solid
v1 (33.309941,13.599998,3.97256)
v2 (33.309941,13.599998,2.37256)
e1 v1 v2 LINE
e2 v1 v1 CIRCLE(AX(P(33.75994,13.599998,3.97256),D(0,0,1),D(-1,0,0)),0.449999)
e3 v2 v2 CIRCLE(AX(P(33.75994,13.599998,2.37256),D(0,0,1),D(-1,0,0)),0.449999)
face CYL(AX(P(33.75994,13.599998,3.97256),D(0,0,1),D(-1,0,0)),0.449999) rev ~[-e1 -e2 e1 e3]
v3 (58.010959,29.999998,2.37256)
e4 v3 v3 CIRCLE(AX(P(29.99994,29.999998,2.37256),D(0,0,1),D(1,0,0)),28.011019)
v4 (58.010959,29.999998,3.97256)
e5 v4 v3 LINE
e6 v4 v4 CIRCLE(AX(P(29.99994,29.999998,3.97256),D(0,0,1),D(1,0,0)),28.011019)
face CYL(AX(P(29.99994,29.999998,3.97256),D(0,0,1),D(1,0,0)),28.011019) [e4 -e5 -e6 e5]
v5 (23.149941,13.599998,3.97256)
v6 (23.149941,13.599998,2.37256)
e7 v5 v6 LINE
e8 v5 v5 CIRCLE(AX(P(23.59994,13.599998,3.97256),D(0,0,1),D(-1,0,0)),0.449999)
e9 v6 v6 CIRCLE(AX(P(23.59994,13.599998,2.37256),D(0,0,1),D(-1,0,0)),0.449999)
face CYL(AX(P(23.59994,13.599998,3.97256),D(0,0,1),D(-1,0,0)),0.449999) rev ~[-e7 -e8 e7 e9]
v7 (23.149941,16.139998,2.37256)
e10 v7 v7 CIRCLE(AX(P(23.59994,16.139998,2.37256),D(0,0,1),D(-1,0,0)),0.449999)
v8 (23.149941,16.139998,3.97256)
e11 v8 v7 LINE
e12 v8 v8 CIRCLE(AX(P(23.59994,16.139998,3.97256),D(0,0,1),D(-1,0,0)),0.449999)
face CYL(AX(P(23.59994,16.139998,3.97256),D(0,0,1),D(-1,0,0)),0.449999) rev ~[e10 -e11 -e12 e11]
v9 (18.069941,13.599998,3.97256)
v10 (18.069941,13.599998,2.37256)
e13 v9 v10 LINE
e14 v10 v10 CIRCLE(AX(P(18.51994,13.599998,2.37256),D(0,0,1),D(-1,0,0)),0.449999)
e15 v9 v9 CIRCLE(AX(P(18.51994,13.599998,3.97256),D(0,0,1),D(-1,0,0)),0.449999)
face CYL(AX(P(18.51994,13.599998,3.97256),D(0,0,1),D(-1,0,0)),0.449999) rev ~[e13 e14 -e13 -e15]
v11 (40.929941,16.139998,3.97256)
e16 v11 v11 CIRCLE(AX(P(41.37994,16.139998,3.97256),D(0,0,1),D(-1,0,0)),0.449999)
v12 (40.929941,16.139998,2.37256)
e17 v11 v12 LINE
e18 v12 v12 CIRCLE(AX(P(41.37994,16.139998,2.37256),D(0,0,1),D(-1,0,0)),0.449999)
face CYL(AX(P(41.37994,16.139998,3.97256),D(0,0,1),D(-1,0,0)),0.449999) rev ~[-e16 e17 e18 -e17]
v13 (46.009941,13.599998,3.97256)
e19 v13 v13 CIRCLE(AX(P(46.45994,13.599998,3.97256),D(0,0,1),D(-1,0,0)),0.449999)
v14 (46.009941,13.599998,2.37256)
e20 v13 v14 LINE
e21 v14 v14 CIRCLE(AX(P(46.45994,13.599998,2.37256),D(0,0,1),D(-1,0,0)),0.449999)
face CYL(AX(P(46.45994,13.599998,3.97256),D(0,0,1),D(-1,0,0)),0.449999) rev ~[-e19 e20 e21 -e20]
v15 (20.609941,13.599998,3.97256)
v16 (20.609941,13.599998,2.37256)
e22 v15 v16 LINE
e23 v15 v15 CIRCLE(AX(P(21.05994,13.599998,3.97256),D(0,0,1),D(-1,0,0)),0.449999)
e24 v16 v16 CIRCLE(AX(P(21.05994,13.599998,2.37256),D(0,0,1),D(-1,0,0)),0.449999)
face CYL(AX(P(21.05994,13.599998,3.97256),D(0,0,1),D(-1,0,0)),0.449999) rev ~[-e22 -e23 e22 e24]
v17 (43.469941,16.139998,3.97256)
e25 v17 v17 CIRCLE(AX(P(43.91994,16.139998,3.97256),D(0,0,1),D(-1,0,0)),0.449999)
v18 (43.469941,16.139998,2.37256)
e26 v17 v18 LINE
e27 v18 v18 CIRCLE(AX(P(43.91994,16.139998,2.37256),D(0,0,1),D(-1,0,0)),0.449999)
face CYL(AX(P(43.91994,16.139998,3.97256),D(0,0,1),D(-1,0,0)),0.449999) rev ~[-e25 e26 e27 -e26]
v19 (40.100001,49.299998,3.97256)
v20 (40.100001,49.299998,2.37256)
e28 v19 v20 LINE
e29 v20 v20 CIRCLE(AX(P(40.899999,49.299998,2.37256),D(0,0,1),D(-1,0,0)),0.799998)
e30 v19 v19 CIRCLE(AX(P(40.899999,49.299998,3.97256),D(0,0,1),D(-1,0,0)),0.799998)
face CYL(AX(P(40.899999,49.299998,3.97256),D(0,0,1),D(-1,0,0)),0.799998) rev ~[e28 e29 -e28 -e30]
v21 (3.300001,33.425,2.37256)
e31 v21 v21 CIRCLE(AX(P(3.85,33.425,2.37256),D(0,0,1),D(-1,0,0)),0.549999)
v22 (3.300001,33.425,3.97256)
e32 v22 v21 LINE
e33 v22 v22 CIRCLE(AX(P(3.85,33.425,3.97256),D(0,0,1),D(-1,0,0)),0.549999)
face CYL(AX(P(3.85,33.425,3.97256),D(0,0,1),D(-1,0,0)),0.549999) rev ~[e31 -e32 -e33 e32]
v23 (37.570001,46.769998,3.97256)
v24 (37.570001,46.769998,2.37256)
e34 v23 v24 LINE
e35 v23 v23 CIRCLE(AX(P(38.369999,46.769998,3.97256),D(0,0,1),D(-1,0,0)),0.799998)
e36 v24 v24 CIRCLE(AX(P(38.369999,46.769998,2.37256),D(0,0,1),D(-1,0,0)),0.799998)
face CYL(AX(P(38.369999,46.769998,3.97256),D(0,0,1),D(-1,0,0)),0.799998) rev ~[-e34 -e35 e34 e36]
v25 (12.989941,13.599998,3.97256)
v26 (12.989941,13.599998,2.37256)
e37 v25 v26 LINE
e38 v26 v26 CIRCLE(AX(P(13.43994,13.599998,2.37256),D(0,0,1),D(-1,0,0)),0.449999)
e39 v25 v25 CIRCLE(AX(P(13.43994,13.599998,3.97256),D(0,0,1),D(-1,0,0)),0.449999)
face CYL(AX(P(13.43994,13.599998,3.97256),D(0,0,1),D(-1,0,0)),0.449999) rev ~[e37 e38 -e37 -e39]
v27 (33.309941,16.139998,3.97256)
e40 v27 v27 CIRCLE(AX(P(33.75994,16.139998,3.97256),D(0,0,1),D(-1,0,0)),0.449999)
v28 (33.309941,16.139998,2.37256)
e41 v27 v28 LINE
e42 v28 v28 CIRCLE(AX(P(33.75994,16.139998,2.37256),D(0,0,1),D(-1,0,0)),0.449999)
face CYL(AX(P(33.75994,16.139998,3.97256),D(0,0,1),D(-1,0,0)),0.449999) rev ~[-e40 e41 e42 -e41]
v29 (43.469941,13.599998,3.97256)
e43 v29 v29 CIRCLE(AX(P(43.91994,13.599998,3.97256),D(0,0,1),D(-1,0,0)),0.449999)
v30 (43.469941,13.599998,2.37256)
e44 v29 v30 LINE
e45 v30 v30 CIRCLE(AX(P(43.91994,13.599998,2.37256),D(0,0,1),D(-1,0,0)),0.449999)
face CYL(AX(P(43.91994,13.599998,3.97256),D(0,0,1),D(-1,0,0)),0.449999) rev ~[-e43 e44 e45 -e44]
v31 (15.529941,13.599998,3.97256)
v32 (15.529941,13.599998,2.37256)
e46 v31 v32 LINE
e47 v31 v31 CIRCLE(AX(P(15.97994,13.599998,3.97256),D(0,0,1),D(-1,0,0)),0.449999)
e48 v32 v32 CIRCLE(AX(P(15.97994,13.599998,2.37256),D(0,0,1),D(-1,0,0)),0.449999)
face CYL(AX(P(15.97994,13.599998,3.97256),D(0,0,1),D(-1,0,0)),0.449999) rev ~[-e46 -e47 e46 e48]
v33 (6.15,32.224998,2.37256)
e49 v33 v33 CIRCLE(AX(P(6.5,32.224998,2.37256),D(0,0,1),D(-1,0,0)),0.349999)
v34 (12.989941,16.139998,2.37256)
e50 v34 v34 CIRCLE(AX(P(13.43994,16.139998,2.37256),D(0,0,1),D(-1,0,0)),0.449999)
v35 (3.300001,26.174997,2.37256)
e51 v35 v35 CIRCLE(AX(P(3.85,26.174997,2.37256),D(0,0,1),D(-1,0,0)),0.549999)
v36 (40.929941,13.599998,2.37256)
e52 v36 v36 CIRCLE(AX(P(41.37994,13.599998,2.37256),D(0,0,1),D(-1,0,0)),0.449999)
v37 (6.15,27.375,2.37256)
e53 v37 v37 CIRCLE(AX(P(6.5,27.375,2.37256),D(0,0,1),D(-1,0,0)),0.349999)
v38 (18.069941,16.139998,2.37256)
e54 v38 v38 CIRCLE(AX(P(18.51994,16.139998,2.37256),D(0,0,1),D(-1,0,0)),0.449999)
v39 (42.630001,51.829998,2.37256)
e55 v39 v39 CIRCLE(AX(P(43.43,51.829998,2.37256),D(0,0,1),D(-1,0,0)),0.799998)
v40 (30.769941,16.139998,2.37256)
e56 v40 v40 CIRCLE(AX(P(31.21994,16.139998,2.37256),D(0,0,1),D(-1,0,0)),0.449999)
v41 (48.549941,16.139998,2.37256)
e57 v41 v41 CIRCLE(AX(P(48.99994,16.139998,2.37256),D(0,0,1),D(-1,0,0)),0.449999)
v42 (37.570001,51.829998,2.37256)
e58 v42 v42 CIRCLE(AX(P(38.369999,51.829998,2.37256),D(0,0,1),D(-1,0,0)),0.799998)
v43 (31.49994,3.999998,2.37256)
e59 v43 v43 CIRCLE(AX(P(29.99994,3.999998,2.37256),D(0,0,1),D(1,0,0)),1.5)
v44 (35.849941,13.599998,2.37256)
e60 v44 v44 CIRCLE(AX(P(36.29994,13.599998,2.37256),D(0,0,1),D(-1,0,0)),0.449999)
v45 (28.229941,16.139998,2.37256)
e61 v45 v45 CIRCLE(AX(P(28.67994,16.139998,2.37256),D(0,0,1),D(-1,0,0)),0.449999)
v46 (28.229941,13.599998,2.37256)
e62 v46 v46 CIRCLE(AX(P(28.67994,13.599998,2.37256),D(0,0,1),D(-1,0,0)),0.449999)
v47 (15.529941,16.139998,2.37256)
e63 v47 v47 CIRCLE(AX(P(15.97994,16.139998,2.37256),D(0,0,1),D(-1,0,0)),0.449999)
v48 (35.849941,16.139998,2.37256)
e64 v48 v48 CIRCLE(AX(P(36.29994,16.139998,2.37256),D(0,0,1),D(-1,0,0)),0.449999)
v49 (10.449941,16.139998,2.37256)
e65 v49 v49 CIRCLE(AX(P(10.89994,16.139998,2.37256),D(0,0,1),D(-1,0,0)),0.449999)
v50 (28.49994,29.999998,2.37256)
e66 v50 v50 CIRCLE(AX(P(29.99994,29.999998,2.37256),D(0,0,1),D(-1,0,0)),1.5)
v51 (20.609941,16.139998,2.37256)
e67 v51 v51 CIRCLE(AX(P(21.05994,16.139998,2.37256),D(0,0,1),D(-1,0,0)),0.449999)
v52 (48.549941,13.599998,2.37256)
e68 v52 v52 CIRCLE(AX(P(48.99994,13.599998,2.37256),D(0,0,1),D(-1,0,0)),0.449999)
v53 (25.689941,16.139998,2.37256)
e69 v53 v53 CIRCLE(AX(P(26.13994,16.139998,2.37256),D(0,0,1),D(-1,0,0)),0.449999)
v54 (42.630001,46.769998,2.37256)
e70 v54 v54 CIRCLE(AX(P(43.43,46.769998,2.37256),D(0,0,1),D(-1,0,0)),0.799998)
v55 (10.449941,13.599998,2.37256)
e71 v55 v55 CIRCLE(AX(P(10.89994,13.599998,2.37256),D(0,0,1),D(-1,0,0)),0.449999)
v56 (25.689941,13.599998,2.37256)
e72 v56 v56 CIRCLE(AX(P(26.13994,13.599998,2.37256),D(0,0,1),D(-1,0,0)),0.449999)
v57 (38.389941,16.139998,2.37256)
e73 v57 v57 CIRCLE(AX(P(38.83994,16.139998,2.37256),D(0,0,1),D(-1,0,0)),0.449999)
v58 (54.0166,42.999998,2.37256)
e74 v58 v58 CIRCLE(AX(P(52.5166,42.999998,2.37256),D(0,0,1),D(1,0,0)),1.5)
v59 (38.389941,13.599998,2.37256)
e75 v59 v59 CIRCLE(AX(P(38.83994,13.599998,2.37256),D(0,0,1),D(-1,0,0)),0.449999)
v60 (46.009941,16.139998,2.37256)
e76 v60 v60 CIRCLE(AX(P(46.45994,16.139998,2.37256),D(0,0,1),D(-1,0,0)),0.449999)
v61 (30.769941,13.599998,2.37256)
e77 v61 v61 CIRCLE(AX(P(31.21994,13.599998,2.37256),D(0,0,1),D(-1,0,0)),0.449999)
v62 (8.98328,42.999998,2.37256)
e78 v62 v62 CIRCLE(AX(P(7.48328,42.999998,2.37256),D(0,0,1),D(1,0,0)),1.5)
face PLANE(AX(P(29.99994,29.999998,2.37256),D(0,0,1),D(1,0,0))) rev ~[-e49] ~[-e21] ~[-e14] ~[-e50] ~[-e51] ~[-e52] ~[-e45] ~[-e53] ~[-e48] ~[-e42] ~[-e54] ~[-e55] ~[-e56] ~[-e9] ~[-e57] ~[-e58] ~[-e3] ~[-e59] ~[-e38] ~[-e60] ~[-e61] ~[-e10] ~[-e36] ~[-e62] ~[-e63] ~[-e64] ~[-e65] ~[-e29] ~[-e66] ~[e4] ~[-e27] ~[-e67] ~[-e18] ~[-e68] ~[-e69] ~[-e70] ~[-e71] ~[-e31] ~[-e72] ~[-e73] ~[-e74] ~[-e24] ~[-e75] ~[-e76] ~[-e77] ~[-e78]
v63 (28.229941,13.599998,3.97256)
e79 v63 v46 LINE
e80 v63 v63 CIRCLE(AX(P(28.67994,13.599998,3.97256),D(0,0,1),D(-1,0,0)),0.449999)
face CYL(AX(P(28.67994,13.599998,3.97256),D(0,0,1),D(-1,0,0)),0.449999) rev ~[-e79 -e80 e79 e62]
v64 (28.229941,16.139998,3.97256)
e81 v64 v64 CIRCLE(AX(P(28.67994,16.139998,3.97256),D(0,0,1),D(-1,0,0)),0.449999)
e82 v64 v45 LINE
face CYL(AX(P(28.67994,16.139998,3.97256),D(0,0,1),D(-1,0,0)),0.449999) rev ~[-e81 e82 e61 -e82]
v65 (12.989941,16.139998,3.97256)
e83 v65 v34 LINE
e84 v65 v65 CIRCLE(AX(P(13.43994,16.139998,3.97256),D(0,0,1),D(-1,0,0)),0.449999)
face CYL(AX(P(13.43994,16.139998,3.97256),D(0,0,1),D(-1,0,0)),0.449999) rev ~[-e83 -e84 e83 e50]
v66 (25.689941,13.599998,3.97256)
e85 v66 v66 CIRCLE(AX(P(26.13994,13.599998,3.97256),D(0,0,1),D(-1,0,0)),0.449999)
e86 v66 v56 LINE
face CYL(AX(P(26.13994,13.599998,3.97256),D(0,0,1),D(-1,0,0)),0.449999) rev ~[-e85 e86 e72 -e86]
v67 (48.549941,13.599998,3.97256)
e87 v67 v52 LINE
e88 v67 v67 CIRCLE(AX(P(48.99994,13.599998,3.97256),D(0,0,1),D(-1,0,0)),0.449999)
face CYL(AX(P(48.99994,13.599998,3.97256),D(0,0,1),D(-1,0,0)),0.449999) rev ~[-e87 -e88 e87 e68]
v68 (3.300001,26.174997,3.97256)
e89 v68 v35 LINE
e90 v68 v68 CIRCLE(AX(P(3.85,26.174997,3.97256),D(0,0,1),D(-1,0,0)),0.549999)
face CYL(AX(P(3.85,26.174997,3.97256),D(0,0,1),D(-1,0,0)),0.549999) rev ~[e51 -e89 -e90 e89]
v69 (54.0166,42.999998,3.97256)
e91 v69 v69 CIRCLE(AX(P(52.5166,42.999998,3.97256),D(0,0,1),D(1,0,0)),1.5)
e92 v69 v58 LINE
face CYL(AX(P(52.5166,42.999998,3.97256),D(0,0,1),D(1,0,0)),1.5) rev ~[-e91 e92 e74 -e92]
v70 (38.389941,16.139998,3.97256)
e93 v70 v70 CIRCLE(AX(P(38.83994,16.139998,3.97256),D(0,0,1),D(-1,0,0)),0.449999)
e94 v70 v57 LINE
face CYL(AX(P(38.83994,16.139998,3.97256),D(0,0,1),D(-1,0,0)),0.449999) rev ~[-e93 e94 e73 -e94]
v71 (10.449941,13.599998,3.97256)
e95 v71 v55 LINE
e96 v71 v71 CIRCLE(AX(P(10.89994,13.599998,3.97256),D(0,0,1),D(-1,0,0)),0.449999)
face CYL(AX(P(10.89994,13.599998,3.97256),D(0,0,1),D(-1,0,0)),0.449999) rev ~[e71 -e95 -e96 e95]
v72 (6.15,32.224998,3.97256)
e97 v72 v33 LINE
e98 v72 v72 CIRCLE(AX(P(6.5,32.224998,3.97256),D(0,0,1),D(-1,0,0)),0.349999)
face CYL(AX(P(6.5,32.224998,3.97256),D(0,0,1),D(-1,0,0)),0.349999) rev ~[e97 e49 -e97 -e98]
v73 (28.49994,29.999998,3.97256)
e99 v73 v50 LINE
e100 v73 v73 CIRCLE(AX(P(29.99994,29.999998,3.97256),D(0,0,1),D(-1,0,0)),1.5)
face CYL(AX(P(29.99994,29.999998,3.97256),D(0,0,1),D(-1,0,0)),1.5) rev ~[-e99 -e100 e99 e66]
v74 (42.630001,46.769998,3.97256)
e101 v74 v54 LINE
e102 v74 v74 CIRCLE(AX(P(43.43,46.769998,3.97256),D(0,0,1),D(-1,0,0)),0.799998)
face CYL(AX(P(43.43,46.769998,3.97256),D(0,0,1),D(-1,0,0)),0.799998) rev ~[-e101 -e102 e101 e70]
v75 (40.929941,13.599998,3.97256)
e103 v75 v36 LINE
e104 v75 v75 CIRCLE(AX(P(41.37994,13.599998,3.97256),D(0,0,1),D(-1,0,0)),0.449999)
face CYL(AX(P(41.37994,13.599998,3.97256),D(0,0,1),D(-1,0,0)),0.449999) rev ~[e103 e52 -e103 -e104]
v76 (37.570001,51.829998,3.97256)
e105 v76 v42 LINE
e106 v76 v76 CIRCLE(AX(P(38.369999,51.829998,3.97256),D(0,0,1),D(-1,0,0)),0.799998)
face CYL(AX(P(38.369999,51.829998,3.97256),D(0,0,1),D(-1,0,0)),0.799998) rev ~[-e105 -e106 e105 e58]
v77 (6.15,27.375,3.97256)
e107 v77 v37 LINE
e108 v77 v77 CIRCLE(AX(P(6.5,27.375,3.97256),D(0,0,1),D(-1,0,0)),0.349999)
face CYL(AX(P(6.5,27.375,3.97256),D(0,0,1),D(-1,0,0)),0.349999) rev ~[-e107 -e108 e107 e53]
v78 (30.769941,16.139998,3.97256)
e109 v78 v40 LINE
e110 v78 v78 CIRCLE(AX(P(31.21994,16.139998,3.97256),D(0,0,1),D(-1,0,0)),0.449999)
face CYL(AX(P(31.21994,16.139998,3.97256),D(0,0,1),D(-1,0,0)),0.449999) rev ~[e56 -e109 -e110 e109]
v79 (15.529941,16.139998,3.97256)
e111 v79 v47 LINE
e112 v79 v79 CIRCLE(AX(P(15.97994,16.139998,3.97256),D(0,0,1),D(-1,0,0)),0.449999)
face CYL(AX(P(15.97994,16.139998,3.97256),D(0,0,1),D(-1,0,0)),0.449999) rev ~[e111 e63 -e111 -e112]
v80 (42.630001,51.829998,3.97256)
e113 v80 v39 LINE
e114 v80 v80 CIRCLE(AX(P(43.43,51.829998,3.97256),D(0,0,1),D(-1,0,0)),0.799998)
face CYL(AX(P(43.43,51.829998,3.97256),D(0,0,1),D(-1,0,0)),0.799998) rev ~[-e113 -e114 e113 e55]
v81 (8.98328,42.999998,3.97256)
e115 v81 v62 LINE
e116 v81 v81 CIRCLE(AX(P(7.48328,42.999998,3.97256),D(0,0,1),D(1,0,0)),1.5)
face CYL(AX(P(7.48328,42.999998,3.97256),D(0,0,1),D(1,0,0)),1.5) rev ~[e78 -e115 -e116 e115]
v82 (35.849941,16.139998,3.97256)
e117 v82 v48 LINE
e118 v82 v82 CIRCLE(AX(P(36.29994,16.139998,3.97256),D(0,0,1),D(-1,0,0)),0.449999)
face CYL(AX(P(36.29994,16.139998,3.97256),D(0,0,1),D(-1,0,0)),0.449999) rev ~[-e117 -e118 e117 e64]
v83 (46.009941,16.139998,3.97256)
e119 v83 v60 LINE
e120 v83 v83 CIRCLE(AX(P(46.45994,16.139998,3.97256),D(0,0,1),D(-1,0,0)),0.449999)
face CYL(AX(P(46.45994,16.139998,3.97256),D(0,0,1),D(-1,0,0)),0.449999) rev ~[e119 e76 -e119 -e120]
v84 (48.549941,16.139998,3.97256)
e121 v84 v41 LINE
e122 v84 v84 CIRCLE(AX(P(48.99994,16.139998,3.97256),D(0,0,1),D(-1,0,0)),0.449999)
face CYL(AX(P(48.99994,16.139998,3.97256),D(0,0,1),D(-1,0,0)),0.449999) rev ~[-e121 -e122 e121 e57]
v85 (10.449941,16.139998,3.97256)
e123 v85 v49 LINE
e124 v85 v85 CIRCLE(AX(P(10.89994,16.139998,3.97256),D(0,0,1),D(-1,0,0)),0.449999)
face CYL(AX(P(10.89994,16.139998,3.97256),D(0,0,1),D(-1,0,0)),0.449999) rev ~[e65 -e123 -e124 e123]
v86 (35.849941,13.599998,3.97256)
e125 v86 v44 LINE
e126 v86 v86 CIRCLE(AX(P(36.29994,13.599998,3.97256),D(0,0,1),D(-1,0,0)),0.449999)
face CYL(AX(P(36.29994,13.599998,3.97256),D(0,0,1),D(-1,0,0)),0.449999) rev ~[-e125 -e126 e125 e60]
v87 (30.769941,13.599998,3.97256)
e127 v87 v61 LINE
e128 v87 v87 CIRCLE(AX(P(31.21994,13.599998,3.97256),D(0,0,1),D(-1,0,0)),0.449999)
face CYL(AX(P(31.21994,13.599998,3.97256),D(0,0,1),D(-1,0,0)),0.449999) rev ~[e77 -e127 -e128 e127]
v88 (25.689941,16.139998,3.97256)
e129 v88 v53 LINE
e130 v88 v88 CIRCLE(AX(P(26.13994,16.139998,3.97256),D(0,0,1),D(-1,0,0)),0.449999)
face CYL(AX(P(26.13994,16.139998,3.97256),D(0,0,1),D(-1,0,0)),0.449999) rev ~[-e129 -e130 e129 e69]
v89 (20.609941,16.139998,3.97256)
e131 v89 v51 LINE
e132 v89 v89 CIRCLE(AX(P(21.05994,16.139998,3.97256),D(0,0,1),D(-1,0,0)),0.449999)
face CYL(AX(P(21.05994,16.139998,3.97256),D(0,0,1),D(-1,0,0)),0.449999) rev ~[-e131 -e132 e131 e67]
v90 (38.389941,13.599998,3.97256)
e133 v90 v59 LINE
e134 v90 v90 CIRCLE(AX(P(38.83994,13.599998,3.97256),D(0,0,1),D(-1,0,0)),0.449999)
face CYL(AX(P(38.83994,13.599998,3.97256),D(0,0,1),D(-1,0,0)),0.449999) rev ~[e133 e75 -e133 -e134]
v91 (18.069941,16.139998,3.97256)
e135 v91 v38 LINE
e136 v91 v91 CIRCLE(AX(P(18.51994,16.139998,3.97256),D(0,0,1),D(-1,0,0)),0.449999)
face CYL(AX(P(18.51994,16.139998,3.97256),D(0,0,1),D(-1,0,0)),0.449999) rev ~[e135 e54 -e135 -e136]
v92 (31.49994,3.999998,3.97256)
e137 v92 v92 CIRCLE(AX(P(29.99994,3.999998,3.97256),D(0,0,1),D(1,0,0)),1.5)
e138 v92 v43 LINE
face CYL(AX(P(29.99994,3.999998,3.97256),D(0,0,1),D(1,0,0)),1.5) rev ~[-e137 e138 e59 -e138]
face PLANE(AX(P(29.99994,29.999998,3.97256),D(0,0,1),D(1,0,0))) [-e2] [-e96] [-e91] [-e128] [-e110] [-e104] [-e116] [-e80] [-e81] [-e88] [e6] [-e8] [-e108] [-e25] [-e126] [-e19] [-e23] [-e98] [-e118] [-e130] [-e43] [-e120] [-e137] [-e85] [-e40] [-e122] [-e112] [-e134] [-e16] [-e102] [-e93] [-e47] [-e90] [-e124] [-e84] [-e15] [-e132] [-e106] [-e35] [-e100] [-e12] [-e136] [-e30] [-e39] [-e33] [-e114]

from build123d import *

# Parameters (mm, degrees)
SKETCH1_R           = 28.011018533
SKETCH1_R_2         = 0.7999984
SKETCH1_R_3         = 0.4499991
SKETCH1_R_4         = 1.49999954
SKETCH1_R_5         = 0.3499993
SKETCH1_R_6         = 0.5499989
BOSS_EXTRUDE1_DEPTH = 1.6
CUT_EXTRUDE1_REACH  = 84.056
SKETCH3_R           = 1.5


with BuildPart() as part:
    # Sketch1 → Boss-Extrude1 (new body)
    with BuildSketch(Plane.XY.offset(3.97256)):
        with Locations((29.99994, 29.99999842)):
            Circle(SKETCH1_R)
        with Locations(Location((43.4299995, 46.7699979, 0), (0, 0, 180))):
            Circle(SKETCH1_R_2, mode=Mode.SUBTRACT)
        with Locations(Location((46.4599401, 16.1399982, 0), (0, 0, 180))):
            Circle(SKETCH1_R_3, mode=Mode.SUBTRACT)
        with Locations(Location((43.4299995, 51.82999794, 0), (0, 0, 180))):
            Circle(SKETCH1_R_2, mode=Mode.SUBTRACT)
        with Locations(Location((43.9199401, 16.1399982, 0), (0, 0, 180))):
            Circle(SKETCH1_R_3, mode=Mode.SUBTRACT)
        with Locations(Location((48.9999401, 16.1399982, 0), (0, 0, 180))):
            Circle(SKETCH1_R_3, mode=Mode.SUBTRACT)
        with Locations(Location((41.3799401, 16.1399982, 0), (0, 0, 180))):
            Circle(SKETCH1_R_3, mode=Mode.SUBTRACT)
        with Locations(Location((38.36999946, 51.82999794, 0), (0, 0, 180))):
            Circle(SKETCH1_R_2, mode=Mode.SUBTRACT)
        with Locations(Location((40.89999948, 49.29999792, 0), (0, 0, 180))):
            Circle(SKETCH1_R_2, mode=Mode.SUBTRACT)
        with Locations(Location((38.36999946, 46.7699979, 0), (0, 0, 180))):
            Circle(SKETCH1_R_2, mode=Mode.SUBTRACT)
        with Locations(Location((38.8399401, 16.1399982, 0), (0, 0, 180))):
            Circle(SKETCH1_R_3, mode=Mode.SUBTRACT)
        with Locations(Location((31.2199401, 16.1399982, 0), (0, 0, 180))):
            Circle(SKETCH1_R_3, mode=Mode.SUBTRACT)
        with Locations(Location((41.3799401, 13.5999982, 0), (0, 0, 180))):
            Circle(SKETCH1_R_3, mode=Mode.SUBTRACT)
        with Locations(Location((43.9199401, 13.5999982, 0), (0, 0, 180))):
            Circle(SKETCH1_R_3, mode=Mode.SUBTRACT)
        with Locations(Location((38.8399401, 13.5999982, 0), (0, 0, 180))):
            Circle(SKETCH1_R_3, mode=Mode.SUBTRACT)
        with Locations(Location((48.9999401, 13.5999982, 0), (0, 0, 180))):
            Circle(SKETCH1_R_3, mode=Mode.SUBTRACT)
        with Locations(Location((46.4599401, 13.5999982, 0), (0, 0, 180))):
            Circle(SKETCH1_R_3, mode=Mode.SUBTRACT)
        with Locations(Location((36.2999401, 16.1399982, 0), (0, 0, 180))):
            Circle(SKETCH1_R_3, mode=Mode.SUBTRACT)
        with Locations(Location((36.2999401, 13.5999982, 0), (0, 0, 180))):
            Circle(SKETCH1_R_3, mode=Mode.SUBTRACT)
        with Locations(Location((33.7599401, 16.1399982, 0), (0, 0, 180))):
            Circle(SKETCH1_R_3, mode=Mode.SUBTRACT)
        with Locations(Location((33.7599401, 13.5999982, 0), (0, 0, 180))):
            Circle(SKETCH1_R_3, mode=Mode.SUBTRACT)
        with Locations(Location((31.2199401, 13.5999982, 0), (0, 0, 180))):
            Circle(SKETCH1_R_3, mode=Mode.SUBTRACT)
        with Locations(Location((29.99994, 29.99999842, 0), (0, 0, 180))):
            Circle(SKETCH1_R_4, mode=Mode.SUBTRACT)
        with Locations(Location((28.6799401, 16.1399982, 0), (0, 0, 180))):
            Circle(SKETCH1_R_3, mode=Mode.SUBTRACT)
        with Locations(Location((26.1399401, 16.1399982, 0), (0, 0, 180))):
            Circle(SKETCH1_R_3, mode=Mode.SUBTRACT)
        with Locations(Location((21.0599401, 16.1399982, 0), (0, 0, 180))):
            Circle(SKETCH1_R_3, mode=Mode.SUBTRACT)
        with Locations(Location((23.5999401, 16.1399982, 0), (0, 0, 180))):
            Circle(SKETCH1_R_3, mode=Mode.SUBTRACT)
        with Locations(Location((18.5199401, 16.1399982, 0), (0, 0, 180))):
            Circle(SKETCH1_R_3, mode=Mode.SUBTRACT)
        with Locations(Location((6.4999997, 32.22499778, 0), (0, 0, 180))):
            Circle(SKETCH1_R_5, mode=Mode.SUBTRACT)
        with Locations(Location((6.4999997, 27.37499986, 0), (0, 0, 180))):
            Circle(SKETCH1_R_5, mode=Mode.SUBTRACT)
        with Locations(Location((3.84999992, 33.42500046, 0), (0, 0, 180))):
            Circle(SKETCH1_R_6, mode=Mode.SUBTRACT)
        with Locations(Location((10.8999401, 16.1399982, 0), (0, 0, 180))):
            Circle(SKETCH1_R_3, mode=Mode.SUBTRACT)
        with Locations(Location((3.84999992, 26.17499718, 0), (0, 0, 180))):
            Circle(SKETCH1_R_6, mode=Mode.SUBTRACT)
        with Locations(Location((21.0599401, 13.5999982, 0), (0, 0, 180))):
            Circle(SKETCH1_R_3, mode=Mode.SUBTRACT)
        with Locations(Location((23.5999401, 13.5999982, 0), (0, 0, 180))):
            Circle(SKETCH1_R_3, mode=Mode.SUBTRACT)
        with Locations(Location((18.5199401, 13.5999982, 0), (0, 0, 180))):
            Circle(SKETCH1_R_3, mode=Mode.SUBTRACT)
        with Locations(Location((28.6799401, 13.5999982, 0), (0, 0, 180))):
            Circle(SKETCH1_R_3, mode=Mode.SUBTRACT)
        with Locations(Location((26.1399401, 13.5999982, 0), (0, 0, 180))):
            Circle(SKETCH1_R_3, mode=Mode.SUBTRACT)
        with Locations(Location((15.9799401, 16.1399982, 0), (0, 0, 180))):
            Circle(SKETCH1_R_3, mode=Mode.SUBTRACT)
        with Locations(Location((15.9799401, 13.5999982, 0), (0, 0, 180))):
            Circle(SKETCH1_R_3, mode=Mode.SUBTRACT)
        with Locations(Location((13.4399401, 16.1399982, 0), (0, 0, 180))):
            Circle(SKETCH1_R_3, mode=Mode.SUBTRACT)
        with Locations(Location((13.4399401, 13.5999982, 0), (0, 0, 180))):
            Circle(SKETCH1_R_3, mode=Mode.SUBTRACT)
        with Locations(Location((10.8999401, 13.5999982, 0), (0, 0, 180))):
            Circle(SKETCH1_R_3, mode=Mode.SUBTRACT)
    extrude(amount=-BOSS_EXTRUDE1_DEPTH)

    # Sketch3 → Cut-Extrude1 (cut, up to next)
    with BuildSketch(Plane.XY.offset(3.97256), mode=Mode.PRIVATE) as cut_extrude1_sk1:
        with Locations((7.483279502, 42.99999842)):
            Circle(SKETCH3_R)
    cut_extrude1_tool1 = extrude(cut_extrude1_sk1.sketch, amount=-CUT_EXTRUDE1_REACH, mode=Mode.PRIVATE) & part.part
    # Sketch3 → Cut-Extrude1 (cut, up to next)
    with BuildSketch(Plane.XY.offset(3.97256), mode=Mode.PRIVATE) as cut_extrude1_sk2:
        with Locations((52.516600498, 42.99999842)):
            Circle(SKETCH3_R)
    cut_extrude1_tool2 = extrude(cut_extrude1_sk2.sketch, amount=-CUT_EXTRUDE1_REACH, mode=Mode.PRIVATE) & part.part
    # Sketch3 → Cut-Extrude1 (cut, up to next)
    with BuildSketch(Plane.XY.offset(3.97256), mode=Mode.PRIVATE) as cut_extrude1_sk3:
        with Locations((29.99994, 3.99999842)):
            Circle(SKETCH3_R)
    cut_extrude1_tool3 = extrude(cut_extrude1_sk3.sketch, amount=-CUT_EXTRUDE1_REACH, mode=Mode.PRIVATE) & part.part
    add(cut_extrude1_tool1.solids().sort_by_distance((7.48328, 42.999998, 3.97256))[0], mode=Mode.SUBTRACT)
    add(cut_extrude1_tool2.solids().sort_by_distance((52.5166, 42.999998, 3.97256))[0], mode=Mode.SUBTRACT)
    add(cut_extrude1_tool3.solids().sort_by_distance((29.99994, 3.999998, 3.97256))[0], mode=Mode.SUBTRACT)


solid = part.part
